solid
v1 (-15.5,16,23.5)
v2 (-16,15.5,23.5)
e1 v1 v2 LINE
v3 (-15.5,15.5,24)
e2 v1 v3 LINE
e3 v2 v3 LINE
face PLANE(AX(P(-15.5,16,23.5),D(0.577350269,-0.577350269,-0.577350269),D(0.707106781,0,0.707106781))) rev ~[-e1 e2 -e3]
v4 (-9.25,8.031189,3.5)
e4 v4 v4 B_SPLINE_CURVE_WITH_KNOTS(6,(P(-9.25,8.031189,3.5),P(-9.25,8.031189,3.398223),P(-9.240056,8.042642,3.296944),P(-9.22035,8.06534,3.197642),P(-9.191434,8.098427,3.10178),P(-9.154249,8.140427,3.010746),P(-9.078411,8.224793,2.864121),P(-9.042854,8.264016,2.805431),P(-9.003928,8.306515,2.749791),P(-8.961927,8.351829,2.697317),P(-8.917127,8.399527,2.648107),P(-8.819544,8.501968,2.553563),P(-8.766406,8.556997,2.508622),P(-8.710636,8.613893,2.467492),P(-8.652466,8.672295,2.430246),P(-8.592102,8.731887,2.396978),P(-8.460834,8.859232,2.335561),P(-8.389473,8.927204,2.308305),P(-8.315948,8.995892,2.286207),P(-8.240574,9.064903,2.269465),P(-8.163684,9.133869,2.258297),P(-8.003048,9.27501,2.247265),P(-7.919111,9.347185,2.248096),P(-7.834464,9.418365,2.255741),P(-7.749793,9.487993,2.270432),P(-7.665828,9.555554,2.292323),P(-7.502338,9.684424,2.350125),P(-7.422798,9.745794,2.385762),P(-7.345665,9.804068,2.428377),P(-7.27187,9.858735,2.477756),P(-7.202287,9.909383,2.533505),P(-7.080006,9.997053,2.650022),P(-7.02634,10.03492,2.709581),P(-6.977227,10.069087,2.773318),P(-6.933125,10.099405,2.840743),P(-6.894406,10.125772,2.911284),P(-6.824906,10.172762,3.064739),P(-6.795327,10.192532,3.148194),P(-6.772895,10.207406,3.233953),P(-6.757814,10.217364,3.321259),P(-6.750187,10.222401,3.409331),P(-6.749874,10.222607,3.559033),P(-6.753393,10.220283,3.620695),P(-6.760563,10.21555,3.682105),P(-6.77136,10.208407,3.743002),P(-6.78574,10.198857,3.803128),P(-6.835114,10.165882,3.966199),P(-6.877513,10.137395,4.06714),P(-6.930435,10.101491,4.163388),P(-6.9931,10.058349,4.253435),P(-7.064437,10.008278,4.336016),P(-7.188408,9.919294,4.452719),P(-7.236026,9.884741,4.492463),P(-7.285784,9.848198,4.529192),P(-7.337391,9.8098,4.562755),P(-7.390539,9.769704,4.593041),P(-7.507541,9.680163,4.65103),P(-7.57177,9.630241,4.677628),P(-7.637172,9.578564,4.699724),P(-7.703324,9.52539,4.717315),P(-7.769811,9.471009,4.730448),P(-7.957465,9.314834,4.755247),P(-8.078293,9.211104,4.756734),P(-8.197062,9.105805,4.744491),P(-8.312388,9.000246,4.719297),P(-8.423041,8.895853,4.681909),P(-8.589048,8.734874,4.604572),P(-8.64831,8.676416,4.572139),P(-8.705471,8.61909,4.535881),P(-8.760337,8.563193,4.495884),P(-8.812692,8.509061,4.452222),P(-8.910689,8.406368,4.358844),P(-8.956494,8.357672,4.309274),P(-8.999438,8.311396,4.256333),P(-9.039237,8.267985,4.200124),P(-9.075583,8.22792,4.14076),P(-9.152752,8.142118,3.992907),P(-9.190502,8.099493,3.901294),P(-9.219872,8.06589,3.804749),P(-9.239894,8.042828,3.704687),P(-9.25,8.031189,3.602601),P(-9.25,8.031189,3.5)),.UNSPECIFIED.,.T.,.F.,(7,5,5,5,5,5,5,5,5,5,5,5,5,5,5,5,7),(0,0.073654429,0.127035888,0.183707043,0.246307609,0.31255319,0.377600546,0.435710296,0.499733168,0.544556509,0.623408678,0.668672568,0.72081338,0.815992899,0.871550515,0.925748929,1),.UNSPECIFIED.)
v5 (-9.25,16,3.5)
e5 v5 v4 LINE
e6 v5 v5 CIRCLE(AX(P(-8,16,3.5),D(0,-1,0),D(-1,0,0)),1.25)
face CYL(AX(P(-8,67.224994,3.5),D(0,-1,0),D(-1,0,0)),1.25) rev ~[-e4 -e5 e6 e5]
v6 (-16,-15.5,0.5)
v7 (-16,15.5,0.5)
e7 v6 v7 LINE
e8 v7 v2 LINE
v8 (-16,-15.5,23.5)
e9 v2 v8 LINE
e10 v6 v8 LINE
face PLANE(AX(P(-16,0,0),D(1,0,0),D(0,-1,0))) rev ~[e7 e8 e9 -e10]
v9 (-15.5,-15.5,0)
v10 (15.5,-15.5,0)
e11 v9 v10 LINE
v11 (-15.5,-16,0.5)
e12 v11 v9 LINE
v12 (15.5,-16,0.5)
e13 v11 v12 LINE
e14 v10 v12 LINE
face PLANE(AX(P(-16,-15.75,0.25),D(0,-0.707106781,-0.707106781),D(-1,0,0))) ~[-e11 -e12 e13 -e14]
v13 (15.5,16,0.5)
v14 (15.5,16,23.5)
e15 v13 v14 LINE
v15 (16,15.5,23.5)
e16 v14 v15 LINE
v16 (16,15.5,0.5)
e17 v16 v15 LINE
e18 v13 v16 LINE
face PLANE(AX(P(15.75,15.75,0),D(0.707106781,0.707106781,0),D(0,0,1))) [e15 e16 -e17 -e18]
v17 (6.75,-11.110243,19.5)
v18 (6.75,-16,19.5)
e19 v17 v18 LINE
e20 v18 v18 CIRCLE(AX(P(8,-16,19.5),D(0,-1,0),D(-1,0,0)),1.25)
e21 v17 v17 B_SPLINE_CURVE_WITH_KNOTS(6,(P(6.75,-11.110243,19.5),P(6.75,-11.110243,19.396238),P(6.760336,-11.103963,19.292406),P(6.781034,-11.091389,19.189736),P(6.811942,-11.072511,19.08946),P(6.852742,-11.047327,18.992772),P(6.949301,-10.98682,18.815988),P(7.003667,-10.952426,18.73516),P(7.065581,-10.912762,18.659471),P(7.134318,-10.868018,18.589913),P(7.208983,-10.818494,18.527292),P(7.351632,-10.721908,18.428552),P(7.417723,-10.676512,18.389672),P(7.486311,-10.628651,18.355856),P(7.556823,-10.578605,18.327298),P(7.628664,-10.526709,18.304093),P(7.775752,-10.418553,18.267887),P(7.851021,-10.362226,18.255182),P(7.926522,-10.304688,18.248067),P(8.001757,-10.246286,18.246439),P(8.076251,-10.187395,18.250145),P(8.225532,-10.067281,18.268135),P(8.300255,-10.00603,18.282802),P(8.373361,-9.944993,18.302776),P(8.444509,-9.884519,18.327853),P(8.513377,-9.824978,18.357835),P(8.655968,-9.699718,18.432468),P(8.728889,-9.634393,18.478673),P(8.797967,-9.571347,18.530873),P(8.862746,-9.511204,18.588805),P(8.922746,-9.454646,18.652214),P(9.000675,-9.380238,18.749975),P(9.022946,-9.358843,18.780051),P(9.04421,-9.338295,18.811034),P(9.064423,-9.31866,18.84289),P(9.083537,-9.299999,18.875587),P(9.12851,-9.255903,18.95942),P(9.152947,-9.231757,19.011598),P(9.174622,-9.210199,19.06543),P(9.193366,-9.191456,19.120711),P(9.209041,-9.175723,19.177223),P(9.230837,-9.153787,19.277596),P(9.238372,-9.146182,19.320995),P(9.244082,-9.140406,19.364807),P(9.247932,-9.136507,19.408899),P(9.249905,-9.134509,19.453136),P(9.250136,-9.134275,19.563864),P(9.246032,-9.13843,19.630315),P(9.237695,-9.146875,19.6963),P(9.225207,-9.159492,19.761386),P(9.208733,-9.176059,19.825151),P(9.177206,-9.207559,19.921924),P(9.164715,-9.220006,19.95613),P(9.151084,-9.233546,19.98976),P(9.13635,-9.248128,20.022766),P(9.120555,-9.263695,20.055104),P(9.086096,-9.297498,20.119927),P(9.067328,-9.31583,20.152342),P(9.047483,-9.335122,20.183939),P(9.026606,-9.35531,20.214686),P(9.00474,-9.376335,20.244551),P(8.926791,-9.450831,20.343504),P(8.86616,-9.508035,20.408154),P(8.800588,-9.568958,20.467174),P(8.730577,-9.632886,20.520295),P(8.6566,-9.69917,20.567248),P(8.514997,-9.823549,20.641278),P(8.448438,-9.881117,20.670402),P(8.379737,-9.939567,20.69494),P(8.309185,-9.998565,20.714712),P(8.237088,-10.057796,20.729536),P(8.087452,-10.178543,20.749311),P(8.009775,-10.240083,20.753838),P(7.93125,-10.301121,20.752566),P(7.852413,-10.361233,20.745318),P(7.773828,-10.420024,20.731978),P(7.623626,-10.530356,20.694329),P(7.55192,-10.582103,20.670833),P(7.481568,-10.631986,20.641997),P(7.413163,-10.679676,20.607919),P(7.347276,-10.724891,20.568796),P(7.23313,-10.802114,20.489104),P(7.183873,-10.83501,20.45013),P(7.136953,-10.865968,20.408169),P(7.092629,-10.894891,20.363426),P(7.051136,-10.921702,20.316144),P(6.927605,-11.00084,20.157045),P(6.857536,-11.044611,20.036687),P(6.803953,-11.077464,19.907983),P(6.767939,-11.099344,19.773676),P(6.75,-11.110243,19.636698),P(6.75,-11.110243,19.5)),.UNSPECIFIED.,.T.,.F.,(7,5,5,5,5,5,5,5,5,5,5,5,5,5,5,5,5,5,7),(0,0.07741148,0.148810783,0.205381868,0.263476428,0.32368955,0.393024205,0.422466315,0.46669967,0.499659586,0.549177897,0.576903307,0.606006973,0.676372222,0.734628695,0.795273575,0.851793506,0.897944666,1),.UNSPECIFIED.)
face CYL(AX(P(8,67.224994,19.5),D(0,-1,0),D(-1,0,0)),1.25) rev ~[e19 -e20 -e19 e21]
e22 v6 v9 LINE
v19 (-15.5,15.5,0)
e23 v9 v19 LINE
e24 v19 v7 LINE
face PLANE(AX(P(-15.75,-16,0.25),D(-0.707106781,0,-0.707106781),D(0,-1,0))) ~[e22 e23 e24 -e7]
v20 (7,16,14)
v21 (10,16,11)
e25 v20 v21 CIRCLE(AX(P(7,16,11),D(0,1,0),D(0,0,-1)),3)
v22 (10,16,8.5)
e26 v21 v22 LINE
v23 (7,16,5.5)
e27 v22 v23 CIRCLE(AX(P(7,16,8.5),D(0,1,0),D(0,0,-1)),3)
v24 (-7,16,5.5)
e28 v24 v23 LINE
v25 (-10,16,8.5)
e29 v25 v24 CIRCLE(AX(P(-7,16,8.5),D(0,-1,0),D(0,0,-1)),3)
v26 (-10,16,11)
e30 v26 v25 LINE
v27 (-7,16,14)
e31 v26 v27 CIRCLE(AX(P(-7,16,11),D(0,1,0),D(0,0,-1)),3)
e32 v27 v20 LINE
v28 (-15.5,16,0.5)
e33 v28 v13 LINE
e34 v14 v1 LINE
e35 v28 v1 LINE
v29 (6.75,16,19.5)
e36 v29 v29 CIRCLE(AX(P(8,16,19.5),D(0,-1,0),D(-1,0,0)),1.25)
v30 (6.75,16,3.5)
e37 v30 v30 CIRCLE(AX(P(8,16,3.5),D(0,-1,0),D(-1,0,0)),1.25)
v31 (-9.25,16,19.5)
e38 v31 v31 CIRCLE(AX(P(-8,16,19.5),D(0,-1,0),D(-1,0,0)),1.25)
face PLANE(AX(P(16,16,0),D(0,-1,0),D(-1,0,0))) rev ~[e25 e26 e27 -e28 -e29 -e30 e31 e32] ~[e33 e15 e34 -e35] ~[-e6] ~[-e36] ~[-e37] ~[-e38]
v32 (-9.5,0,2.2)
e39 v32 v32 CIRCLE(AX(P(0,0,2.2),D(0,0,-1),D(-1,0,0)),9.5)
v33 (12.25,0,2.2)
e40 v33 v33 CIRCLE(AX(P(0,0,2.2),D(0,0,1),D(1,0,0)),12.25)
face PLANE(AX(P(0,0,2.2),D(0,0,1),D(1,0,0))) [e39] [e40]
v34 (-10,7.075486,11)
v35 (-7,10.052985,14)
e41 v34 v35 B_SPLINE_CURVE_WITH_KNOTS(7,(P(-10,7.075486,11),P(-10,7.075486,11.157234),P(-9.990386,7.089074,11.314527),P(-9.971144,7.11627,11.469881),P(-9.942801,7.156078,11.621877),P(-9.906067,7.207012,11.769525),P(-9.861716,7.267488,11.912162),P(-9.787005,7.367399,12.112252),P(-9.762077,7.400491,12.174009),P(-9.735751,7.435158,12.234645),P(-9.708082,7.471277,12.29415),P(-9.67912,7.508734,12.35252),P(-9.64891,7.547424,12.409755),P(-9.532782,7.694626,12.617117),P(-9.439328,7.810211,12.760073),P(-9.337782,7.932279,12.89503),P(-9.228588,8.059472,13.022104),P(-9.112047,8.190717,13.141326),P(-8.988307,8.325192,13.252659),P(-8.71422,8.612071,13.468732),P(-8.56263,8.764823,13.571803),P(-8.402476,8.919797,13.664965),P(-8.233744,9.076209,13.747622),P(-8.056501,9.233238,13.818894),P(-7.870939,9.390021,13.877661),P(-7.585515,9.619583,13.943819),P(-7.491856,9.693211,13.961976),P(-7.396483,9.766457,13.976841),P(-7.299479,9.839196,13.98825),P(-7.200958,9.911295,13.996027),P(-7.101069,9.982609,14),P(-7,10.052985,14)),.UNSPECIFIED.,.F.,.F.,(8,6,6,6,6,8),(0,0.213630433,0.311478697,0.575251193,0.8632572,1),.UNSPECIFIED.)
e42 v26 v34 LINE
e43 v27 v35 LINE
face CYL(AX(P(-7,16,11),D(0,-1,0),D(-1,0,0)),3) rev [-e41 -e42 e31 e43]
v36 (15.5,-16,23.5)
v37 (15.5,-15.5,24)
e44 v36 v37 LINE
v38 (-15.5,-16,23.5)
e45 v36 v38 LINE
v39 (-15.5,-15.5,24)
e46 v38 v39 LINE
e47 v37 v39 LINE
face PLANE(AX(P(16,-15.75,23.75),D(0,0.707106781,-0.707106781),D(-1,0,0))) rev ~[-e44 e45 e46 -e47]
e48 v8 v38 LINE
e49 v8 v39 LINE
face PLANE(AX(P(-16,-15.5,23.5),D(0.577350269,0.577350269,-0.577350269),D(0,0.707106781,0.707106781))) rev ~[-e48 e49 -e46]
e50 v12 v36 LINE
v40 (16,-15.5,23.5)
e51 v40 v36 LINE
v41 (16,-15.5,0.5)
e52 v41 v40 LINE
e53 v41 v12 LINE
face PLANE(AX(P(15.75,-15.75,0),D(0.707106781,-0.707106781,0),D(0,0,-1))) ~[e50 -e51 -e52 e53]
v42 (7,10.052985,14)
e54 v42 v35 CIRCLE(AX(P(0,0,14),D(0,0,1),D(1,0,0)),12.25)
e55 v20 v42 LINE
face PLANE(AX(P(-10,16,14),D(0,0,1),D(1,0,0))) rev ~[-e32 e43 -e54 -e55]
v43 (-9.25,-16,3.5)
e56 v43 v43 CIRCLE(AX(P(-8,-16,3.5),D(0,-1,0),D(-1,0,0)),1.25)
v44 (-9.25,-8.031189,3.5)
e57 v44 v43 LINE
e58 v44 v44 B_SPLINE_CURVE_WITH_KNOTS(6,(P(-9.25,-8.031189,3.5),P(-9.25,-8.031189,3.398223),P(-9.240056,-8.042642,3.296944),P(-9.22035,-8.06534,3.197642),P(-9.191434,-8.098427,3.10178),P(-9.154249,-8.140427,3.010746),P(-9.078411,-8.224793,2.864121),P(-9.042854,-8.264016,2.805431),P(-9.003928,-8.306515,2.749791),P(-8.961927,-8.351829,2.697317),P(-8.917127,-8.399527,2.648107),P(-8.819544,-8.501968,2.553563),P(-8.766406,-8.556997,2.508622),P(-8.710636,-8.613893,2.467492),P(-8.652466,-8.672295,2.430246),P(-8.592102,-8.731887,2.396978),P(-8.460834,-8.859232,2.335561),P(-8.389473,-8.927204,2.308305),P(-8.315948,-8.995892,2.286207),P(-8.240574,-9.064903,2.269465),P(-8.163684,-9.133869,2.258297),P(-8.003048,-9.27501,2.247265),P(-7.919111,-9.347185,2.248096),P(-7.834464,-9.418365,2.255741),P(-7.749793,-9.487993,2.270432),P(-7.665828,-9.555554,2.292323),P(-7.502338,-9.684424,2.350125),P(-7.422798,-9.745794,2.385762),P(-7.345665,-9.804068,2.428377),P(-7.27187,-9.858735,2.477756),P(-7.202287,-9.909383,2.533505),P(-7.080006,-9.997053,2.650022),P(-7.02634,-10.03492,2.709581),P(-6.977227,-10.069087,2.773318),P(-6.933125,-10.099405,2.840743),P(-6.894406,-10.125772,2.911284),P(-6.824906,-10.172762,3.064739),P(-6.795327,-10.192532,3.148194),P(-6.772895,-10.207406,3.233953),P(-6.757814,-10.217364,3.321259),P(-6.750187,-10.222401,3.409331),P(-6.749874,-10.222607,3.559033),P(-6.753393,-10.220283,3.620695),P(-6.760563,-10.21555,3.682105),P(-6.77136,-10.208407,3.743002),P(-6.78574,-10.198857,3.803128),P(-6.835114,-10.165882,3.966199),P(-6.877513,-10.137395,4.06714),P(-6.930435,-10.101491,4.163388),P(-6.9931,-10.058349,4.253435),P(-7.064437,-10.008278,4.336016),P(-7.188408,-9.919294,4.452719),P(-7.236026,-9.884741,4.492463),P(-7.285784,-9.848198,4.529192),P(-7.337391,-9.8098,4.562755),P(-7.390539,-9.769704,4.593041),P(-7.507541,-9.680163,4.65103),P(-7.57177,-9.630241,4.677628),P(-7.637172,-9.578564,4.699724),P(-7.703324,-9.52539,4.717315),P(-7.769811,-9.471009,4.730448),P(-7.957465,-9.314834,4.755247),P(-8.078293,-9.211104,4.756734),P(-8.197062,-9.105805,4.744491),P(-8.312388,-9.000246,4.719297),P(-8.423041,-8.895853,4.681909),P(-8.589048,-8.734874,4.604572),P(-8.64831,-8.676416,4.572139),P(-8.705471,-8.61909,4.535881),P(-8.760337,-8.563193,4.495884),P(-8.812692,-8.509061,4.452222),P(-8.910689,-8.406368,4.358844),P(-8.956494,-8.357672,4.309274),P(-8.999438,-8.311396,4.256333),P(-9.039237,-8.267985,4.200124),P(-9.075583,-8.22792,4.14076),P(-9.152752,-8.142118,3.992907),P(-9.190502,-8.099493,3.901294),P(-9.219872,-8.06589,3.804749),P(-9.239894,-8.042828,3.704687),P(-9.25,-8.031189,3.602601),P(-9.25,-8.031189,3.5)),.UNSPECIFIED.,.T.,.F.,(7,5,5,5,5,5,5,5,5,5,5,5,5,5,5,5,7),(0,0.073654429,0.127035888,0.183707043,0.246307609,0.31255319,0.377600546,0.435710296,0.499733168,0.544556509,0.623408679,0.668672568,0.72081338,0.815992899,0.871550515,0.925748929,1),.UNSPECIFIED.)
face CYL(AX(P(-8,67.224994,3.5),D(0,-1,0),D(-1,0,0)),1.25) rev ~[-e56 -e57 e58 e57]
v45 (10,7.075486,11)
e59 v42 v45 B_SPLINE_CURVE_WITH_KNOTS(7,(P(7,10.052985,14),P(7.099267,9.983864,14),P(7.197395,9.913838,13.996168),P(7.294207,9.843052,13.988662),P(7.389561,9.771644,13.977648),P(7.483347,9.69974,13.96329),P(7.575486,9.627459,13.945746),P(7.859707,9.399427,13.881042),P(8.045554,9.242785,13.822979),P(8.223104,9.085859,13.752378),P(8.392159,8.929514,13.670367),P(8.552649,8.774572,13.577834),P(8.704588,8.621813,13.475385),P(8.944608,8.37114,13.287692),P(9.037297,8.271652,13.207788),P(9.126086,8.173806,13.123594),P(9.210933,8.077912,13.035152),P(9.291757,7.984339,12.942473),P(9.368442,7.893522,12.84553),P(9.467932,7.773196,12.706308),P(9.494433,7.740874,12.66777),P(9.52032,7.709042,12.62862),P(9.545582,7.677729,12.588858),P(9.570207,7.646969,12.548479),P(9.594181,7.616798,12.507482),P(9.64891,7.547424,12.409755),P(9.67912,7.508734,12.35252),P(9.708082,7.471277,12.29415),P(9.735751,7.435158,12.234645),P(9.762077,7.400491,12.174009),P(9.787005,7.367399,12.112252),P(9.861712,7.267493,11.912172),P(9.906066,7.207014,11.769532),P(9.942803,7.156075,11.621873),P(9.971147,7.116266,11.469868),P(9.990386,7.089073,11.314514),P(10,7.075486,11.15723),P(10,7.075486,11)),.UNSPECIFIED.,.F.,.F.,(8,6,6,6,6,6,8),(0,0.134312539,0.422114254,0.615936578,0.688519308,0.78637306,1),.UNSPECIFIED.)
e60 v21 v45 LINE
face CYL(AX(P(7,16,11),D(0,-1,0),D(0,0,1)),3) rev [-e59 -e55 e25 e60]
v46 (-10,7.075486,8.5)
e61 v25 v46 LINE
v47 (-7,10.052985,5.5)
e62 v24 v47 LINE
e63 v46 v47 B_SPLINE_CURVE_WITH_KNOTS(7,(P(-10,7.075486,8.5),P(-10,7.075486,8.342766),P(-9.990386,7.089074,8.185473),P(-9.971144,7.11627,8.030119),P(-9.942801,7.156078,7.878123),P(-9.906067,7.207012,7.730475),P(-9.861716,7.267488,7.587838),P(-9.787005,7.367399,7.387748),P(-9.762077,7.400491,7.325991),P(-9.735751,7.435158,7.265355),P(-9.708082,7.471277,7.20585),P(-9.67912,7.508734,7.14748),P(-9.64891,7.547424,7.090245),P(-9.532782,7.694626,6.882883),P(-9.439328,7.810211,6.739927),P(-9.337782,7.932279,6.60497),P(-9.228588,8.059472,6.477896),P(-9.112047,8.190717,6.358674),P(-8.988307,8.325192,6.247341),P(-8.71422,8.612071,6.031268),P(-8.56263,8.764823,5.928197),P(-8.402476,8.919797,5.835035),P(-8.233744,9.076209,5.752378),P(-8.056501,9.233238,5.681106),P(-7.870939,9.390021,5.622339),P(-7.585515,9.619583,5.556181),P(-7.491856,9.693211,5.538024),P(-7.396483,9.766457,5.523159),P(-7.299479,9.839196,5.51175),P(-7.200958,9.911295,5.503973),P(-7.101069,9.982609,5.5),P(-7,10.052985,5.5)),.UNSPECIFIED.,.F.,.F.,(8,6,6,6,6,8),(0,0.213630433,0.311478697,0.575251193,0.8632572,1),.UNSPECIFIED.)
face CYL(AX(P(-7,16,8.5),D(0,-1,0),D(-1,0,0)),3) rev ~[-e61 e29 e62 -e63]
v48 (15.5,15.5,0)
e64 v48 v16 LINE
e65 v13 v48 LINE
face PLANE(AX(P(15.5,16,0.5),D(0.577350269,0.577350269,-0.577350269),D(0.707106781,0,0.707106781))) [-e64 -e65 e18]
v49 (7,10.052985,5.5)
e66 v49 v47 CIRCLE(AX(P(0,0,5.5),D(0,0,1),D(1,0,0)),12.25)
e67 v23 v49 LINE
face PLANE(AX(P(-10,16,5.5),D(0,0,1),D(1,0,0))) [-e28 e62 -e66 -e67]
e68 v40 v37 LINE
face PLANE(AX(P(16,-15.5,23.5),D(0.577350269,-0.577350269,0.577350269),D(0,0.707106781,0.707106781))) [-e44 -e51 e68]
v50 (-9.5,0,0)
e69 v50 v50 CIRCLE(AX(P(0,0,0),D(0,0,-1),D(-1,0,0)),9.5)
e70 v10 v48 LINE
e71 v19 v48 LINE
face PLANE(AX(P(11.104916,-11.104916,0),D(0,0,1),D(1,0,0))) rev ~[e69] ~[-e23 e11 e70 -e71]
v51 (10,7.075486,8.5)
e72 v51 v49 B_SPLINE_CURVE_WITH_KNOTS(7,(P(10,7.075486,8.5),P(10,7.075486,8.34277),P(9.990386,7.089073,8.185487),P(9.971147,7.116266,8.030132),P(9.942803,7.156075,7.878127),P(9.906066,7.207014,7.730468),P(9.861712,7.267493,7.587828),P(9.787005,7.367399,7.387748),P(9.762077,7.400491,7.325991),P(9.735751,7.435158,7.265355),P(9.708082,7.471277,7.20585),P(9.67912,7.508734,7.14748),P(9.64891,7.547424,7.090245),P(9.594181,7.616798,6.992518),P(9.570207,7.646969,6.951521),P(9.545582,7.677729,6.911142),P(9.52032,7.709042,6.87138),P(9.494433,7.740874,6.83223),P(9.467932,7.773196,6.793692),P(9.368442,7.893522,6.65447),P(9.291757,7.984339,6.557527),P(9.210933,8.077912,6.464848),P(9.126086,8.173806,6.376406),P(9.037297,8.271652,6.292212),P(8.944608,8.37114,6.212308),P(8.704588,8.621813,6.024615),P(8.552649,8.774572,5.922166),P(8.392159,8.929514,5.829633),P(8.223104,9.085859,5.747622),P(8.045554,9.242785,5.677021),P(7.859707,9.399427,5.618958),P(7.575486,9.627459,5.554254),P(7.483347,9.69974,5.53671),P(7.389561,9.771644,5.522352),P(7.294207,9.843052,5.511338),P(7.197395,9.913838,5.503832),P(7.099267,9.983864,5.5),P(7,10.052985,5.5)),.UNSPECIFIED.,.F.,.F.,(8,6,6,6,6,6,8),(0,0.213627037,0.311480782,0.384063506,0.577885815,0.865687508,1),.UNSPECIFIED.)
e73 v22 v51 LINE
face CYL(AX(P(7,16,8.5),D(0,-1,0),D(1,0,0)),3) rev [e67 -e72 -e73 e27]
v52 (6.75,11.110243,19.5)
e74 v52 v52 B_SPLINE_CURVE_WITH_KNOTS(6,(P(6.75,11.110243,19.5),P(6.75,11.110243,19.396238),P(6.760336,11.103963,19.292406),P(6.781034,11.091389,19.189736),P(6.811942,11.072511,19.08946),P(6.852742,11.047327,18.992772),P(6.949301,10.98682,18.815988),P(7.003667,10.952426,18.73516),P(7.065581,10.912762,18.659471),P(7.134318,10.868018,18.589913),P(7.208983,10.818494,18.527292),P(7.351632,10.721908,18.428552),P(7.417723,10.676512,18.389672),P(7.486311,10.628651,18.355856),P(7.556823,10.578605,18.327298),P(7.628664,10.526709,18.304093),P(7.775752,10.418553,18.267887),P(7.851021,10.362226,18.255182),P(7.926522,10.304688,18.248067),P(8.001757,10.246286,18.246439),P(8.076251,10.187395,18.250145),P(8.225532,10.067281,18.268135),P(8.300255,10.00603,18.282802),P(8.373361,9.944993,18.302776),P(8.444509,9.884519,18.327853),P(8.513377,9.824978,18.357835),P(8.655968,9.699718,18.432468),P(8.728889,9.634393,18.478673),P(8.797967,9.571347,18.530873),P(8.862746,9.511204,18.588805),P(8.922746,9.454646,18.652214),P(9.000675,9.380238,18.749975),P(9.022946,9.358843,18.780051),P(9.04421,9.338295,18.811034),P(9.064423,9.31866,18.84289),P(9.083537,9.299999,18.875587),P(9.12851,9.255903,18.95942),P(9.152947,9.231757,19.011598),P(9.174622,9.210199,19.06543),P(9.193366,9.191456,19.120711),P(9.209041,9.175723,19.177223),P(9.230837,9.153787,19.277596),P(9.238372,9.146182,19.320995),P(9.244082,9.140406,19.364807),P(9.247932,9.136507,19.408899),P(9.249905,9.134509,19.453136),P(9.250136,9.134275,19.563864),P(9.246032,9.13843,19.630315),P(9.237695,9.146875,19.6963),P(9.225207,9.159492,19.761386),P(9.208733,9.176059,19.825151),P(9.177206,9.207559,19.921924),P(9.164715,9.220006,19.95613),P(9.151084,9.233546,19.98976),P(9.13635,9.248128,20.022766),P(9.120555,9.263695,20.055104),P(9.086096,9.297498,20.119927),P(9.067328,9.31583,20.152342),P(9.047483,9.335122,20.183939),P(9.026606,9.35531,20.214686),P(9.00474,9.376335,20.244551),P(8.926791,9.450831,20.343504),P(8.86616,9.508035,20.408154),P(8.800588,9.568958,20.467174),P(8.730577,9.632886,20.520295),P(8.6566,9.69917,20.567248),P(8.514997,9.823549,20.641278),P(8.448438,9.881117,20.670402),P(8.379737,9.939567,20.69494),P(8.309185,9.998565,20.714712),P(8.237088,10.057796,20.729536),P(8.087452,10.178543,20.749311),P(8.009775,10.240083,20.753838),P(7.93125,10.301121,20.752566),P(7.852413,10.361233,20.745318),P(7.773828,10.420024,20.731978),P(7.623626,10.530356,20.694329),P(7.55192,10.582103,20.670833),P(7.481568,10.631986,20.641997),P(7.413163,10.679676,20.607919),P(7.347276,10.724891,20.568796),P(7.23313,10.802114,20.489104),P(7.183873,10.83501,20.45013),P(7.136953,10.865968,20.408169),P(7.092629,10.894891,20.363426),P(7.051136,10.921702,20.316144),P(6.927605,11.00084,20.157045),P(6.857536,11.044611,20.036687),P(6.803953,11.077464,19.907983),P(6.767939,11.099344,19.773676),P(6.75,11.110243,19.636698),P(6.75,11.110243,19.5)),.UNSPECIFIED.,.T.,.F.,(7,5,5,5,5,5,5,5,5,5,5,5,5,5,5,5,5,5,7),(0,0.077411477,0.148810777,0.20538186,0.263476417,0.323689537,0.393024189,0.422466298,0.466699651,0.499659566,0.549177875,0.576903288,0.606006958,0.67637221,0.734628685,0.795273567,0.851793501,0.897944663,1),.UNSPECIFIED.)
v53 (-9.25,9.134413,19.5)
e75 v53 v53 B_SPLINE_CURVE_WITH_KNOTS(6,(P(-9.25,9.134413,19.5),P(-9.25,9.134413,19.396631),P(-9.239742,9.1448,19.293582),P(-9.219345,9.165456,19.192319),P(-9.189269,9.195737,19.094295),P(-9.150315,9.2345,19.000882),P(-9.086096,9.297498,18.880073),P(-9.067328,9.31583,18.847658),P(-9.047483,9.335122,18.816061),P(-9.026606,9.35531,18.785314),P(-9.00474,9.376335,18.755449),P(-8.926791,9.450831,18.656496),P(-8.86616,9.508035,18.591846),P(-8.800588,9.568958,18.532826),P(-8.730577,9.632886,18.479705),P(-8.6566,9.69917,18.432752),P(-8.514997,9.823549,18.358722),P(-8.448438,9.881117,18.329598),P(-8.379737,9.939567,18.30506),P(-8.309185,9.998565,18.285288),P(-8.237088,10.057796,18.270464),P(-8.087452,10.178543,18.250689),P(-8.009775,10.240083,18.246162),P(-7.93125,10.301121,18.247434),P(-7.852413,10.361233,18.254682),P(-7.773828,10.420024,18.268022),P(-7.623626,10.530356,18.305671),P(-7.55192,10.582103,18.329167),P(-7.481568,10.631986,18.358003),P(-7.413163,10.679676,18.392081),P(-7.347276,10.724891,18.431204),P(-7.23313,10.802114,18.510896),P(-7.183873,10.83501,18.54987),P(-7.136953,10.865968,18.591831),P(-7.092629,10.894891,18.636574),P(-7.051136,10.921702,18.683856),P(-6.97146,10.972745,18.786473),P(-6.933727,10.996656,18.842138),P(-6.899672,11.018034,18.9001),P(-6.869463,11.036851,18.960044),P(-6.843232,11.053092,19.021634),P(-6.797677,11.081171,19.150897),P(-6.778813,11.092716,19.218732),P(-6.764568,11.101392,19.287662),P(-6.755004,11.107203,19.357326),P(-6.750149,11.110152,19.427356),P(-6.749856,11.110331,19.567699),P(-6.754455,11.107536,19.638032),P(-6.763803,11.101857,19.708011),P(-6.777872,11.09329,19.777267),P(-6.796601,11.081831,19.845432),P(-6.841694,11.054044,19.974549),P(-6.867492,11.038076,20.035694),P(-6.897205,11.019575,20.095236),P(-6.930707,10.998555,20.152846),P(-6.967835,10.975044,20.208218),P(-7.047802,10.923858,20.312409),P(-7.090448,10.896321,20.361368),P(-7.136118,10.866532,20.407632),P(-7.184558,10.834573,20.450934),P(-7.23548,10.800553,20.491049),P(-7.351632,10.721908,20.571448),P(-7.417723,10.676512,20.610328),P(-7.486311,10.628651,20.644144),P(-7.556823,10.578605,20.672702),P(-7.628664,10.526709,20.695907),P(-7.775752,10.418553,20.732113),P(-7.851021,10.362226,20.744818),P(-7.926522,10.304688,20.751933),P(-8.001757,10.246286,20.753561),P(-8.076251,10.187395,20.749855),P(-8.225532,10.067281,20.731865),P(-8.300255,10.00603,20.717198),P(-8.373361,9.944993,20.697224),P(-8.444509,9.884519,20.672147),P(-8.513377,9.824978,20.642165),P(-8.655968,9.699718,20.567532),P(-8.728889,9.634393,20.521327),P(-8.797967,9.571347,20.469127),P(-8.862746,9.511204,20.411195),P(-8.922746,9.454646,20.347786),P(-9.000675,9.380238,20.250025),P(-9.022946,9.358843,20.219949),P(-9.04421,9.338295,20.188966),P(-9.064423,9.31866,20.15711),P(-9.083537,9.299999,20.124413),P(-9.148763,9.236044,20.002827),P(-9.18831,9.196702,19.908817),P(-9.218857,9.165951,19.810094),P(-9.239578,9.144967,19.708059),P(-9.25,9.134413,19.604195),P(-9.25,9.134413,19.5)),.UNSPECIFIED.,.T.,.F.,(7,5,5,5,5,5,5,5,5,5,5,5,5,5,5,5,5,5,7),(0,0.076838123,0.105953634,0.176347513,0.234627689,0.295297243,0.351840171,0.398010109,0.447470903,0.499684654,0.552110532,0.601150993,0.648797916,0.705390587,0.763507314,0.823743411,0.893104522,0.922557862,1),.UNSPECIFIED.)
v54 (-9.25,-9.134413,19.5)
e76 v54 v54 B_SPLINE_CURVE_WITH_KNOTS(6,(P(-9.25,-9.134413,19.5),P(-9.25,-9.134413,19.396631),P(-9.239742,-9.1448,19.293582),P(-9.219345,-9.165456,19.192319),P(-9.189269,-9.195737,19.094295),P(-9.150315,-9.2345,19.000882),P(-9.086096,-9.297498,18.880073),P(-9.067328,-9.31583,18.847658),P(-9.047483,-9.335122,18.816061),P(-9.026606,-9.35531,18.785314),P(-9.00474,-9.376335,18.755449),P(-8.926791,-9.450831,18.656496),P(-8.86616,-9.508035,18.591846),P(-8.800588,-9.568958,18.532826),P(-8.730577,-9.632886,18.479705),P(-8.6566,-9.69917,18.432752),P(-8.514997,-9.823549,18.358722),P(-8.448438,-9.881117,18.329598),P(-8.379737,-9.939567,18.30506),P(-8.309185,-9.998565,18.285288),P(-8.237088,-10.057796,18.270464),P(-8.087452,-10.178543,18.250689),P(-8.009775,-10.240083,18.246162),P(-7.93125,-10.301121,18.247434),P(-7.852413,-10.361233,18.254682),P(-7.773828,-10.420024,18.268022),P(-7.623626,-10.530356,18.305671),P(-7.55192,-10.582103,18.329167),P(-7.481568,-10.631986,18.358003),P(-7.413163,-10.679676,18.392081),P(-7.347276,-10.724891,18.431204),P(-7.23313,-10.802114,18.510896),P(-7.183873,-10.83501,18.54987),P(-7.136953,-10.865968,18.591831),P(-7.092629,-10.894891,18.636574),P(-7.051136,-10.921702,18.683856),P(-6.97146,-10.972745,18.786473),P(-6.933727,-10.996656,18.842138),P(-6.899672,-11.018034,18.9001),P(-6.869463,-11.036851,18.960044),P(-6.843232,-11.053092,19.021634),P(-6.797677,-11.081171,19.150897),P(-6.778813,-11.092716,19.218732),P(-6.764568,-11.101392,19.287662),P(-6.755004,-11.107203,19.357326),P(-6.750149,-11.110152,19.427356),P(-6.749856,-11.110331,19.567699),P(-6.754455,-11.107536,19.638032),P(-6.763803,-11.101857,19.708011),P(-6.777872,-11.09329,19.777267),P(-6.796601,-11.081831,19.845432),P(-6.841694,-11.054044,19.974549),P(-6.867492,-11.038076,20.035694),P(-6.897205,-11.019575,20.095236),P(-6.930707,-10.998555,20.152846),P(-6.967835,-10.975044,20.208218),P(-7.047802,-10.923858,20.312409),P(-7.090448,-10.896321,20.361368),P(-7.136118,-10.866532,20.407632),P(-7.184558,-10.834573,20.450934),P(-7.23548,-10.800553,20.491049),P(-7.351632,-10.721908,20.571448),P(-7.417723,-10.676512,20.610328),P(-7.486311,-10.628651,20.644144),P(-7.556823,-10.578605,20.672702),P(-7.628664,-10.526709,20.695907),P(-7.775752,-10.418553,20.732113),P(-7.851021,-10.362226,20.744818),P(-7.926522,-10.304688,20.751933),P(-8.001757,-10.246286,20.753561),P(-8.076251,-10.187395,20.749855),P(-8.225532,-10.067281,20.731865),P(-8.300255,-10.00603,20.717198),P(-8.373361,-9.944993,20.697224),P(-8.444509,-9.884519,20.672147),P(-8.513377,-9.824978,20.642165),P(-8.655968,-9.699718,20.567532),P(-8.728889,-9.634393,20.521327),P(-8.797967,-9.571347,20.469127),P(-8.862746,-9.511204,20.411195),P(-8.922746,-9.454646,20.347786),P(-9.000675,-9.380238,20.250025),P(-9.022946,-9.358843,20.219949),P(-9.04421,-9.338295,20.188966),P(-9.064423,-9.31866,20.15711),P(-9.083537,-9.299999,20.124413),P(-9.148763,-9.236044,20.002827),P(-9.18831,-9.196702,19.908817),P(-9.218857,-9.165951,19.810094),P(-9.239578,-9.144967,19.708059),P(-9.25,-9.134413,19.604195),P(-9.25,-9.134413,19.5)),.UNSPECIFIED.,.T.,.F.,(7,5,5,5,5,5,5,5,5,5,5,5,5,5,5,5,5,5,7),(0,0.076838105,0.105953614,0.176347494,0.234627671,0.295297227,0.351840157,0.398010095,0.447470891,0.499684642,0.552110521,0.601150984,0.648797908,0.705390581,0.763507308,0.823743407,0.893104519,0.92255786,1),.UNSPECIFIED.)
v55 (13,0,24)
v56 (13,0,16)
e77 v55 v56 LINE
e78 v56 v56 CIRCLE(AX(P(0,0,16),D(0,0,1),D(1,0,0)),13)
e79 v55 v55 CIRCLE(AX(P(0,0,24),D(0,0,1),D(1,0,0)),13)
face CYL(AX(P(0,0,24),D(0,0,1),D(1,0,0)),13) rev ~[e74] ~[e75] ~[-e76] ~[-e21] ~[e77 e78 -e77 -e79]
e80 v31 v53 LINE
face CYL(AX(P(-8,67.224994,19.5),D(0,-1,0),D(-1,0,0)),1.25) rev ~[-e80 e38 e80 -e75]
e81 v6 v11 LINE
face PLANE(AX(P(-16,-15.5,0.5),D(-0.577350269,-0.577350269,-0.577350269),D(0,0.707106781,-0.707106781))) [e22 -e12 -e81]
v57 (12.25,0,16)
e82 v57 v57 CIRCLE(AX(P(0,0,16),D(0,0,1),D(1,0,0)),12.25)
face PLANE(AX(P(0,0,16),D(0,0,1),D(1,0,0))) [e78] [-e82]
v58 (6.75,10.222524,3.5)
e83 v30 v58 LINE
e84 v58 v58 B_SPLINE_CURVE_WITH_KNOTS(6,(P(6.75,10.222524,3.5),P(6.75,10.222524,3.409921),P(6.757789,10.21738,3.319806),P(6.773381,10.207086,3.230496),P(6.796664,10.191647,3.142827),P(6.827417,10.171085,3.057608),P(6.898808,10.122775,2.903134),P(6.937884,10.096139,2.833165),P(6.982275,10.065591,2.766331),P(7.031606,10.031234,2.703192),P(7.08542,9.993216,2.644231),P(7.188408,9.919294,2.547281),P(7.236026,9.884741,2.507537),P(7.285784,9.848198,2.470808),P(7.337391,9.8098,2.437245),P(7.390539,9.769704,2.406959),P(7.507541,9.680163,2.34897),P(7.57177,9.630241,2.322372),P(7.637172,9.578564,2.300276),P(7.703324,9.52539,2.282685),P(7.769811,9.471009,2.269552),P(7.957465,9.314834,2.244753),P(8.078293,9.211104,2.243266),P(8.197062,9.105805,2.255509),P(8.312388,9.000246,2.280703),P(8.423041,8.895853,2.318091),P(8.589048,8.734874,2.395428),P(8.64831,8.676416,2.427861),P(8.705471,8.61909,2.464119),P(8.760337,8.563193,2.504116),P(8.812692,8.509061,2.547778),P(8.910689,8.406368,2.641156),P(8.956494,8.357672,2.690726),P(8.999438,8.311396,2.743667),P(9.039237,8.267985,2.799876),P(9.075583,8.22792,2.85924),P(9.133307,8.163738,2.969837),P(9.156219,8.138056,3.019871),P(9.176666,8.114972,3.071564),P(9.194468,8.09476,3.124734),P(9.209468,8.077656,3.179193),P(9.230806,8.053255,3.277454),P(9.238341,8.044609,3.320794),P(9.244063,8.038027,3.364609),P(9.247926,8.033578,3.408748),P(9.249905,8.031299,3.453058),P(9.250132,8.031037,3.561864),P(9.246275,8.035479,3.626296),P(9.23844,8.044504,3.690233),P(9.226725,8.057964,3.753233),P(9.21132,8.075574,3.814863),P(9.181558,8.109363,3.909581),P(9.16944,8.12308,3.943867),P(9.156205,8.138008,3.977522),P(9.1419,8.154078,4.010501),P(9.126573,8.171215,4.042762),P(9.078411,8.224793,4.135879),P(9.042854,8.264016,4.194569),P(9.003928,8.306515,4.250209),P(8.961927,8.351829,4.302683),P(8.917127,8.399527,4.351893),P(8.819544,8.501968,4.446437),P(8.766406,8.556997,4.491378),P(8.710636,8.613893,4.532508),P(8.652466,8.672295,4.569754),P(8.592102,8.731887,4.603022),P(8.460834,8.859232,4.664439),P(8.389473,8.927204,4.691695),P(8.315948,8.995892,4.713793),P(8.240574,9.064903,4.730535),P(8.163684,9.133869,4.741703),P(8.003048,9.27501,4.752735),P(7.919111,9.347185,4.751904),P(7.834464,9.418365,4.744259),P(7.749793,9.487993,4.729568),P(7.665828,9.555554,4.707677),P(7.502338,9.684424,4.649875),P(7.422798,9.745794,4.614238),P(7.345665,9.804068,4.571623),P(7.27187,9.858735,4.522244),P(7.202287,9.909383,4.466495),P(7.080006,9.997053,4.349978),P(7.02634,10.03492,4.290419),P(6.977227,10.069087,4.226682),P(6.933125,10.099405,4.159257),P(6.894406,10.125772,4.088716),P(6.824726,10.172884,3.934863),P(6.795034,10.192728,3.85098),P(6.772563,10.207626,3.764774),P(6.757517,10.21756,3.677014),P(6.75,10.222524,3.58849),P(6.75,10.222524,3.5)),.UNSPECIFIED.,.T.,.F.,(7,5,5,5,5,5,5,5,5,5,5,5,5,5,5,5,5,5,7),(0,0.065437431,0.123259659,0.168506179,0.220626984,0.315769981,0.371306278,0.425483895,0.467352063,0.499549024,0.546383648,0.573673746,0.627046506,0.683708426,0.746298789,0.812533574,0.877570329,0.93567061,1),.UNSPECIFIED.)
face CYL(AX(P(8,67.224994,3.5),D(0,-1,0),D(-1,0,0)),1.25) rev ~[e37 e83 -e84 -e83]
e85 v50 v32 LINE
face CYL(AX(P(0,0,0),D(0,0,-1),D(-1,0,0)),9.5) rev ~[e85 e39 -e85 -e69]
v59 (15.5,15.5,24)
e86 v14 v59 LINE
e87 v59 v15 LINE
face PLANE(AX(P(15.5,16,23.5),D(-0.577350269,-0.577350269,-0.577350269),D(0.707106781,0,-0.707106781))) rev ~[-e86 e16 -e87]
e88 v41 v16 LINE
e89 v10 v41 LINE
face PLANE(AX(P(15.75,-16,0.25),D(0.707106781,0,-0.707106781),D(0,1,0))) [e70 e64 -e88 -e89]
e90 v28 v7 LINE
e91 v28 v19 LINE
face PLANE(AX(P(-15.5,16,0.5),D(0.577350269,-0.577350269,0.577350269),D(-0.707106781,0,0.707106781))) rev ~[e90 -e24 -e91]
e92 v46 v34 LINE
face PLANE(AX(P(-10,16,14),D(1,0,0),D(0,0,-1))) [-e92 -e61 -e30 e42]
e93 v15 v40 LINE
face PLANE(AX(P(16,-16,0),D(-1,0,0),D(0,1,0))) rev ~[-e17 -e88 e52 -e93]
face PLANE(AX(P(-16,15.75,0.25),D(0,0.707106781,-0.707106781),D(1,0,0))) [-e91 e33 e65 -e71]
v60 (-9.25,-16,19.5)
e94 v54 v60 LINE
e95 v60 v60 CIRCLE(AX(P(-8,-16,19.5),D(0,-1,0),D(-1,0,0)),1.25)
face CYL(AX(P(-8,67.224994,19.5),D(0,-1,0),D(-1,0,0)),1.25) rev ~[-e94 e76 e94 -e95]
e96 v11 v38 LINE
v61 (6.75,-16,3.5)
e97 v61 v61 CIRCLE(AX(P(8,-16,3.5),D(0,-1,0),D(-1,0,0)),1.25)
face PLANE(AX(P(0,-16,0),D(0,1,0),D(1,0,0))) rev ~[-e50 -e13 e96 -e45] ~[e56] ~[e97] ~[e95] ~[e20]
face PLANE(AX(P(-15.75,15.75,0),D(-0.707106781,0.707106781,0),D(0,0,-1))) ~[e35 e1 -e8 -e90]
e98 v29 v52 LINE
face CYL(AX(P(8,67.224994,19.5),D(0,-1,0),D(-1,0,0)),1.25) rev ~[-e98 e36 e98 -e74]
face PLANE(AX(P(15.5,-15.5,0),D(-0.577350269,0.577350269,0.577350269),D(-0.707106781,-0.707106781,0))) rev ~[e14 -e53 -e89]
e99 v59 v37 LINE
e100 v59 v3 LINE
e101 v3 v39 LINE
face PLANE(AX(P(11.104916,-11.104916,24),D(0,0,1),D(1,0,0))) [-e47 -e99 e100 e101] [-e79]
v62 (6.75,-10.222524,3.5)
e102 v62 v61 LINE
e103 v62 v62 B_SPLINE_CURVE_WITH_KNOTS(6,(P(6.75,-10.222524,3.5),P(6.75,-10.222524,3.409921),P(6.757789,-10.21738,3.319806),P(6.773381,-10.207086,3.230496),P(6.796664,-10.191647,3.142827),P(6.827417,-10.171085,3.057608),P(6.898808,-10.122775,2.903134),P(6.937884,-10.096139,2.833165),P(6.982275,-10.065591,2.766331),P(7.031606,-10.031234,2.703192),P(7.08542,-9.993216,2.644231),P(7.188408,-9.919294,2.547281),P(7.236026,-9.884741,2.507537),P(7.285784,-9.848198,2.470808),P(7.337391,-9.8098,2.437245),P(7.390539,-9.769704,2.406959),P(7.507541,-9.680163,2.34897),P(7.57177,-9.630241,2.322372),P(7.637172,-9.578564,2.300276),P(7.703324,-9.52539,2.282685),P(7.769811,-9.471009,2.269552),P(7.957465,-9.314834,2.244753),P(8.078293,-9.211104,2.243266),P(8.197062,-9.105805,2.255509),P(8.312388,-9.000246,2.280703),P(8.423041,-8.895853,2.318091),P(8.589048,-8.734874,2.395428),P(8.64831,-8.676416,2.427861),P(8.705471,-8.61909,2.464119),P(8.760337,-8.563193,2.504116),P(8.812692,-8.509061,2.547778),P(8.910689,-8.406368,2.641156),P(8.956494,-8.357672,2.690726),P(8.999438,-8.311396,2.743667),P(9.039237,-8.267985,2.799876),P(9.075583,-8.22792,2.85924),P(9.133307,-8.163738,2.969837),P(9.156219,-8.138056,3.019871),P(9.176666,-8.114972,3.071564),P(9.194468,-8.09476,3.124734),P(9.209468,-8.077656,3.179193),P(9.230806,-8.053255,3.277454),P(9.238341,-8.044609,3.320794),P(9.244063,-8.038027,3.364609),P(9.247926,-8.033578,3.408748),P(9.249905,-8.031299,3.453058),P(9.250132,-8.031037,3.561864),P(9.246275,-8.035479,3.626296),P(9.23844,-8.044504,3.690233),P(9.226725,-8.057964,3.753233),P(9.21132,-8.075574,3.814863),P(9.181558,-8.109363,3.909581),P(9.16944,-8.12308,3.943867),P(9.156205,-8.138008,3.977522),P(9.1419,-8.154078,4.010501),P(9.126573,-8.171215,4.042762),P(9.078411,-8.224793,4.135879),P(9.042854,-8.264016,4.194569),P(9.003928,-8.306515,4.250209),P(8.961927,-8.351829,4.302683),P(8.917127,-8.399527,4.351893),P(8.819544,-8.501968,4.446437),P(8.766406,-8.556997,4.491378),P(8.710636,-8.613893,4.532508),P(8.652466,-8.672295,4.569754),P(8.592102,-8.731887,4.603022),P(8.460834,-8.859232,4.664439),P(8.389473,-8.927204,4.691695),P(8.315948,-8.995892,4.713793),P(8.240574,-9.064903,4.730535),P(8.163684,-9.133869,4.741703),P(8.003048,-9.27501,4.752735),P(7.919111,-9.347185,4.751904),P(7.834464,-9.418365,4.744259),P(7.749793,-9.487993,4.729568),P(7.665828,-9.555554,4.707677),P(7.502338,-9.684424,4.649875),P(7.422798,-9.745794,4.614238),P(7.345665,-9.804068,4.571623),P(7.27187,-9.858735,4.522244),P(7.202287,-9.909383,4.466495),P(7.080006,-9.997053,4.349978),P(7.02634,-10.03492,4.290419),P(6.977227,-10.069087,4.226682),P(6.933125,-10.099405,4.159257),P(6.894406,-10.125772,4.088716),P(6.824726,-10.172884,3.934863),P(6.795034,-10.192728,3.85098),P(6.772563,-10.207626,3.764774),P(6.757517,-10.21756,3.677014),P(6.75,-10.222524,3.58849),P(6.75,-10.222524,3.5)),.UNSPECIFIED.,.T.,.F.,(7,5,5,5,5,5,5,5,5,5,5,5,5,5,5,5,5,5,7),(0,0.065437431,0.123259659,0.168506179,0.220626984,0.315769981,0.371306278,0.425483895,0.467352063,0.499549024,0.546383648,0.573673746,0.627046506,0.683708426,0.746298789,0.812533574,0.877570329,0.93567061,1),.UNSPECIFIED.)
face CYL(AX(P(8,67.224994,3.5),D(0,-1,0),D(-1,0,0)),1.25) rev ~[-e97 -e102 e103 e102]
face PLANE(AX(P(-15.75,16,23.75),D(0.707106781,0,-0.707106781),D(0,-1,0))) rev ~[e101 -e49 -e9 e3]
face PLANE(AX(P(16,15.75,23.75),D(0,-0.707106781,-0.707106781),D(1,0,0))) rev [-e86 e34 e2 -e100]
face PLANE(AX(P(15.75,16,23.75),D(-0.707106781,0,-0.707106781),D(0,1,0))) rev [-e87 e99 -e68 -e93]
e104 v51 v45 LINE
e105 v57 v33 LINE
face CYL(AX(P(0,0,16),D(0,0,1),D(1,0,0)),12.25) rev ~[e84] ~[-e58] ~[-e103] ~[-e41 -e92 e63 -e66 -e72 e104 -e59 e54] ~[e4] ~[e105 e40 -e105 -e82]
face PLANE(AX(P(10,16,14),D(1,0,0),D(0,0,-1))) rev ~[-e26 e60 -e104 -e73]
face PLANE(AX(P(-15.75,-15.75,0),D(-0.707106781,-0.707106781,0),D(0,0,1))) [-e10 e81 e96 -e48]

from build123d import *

# Parameters (mm, degrees)
SKETCH_1_R               = 16
SKETCH_1_R_2             = 6.65
EXTRUDE_1_DEPTH          = 24
SKETCH_3_R               = 1.5
CUT_EXTRUDE_2_DEPTH      = 33.984845005
PATTERN_CIRCULAR_1_COUNT = 6
EXTRUDE_START            = -24
EXTRUDE_2_DEPTH          = 24
SKETCH_7_R               = 13
CUT_EXTRUDE_3_DEPTH      = 21.8
EXTRUDE_START_2          = 13.8
SKETCH_15_R              = 13
SKETCH_15_R_2            = 12.25
EXTRUDE_4_DEPTH          = 13.8
SKETCH_11_W              = 20
SKETCH_11_H              = 8.5
CUT_EXTRUDE_4_DEPTH      = 10
FILLET_1_R               = 3
SKETCH_12_R              = 1
CUT_EXTRUDE_5_DEPTH      = 44.081318457
HOLE_WIZARD_M3_1_D       = 2.5
CHAMFER_1_SIZE           = 0.5
SKETCH_19_R              = 11
EXTRUDE_8_DEPTH          = 24
SKETCH_20_R              = 11
CUT_EXTRUDE_8_DEPTH      = 47
SKETCH_21_R              = 11
CUT_EXTRUDE_9_DEPTH      = 60
SKETCH_22_R              = 9.5
CUT_EXTRUDE_10_DEPTH     = 60


with BuildPart() as part:
    # 草图1 → 凸台-拉伸1 (new body)
    with BuildSketch(Plane.XY):
        Circle(SKETCH_1_R)
        Circle(SKETCH_1_R_2, mode=Mode.SUBTRACT)
    extrude(amount=EXTRUDE_1_DEPTH)

    # 草图3 → 切除-拉伸2 (cut, through all)
    with BuildSketch(Plane(origin=(0, 0, 0), x_dir=(-1, 0, 0), z_dir=(0, 0, -1))):
        with Locations((0, 9.5)):
            Circle(SKETCH_3_R)
    cut_extrude_2 = extrude(amount=-CUT_EXTRUDE_2_DEPTH, mode=Mode.SUBTRACT)

    # 阵列(圆周)1: 切除-拉伸2 ×6 about axis
    pattern_circular_1_axis = Axis((0, 0, 0), (0, 0, 1))
    for i in range(1, PATTERN_CIRCULAR_1_COUNT):
        add(cut_extrude_2.rotate(pattern_circular_1_axis, i * 360 / PATTERN_CIRCULAR_1_COUNT), mode=Mode.SUBTRACT)

    # 草图4 → 凸台-拉伸2 (add)
    with BuildSketch(Plane.XY.offset(24).offset(EXTRUDE_START)):
        with BuildLine():
            ThreePointArc((16, 0), (11.313708518, -11.31370848), (5.5e-08, -16))
            Line((5.5e-08, -16), (16, -16))
            Line((16, -16), (16, 0))
        make_face()
        with BuildLine():
            ThreePointArc((5.5e-08, -16), (-11.31370848, -11.313708518), (-16, 0))
            Line((-16, 0), (-16, -16))
            Line((-16, -16), (5.5e-08, -16))
        make_face()
        with BuildLine():
            Line((-16, 16), (-16, 0))
            ThreePointArc((-16, 0), (-11.313708518, 11.31370848), (-5.5e-08, 16))
            Line((-5.5e-08, 16), (-16, 16))
        make_face()
        with BuildLine():
            Line((16, 16), (-5.5e-08, 16))
            ThreePointArc((-5.5e-08, 16), (11.31370848, 11.313708518), (16, 0))
            Line((16, 0), (16, 16))
        make_face()
    extrude(amount=EXTRUDE_2_DEPTH)

    # 草图7 → 切除-拉伸3 (cut)
    with BuildSketch(Plane.XY.offset(24)):
        Circle(SKETCH_7_R)
    extrude(amount=-CUT_EXTRUDE_3_DEPTH, mode=Mode.SUBTRACT)

    # 草图15 → 凸台-拉伸4 (add)
    with BuildSketch(Plane.XY.offset(2.2).offset(EXTRUDE_START_2)):
        Circle(SKETCH_15_R)
        Circle(SKETCH_15_R_2, mode=Mode.SUBTRACT)
    extrude(amount=-EXTRUDE_4_DEPTH)

    # 草图11 → 切除-拉伸4 (cut)
    with BuildSketch(Plane(origin=(0, 16, 0), x_dir=(1, 0, 0), z_dir=(0, 1, 0))):
        with Locations((0, -9.75)):
            Rectangle(SKETCH_11_W, SKETCH_11_H)
    extrude(amount=-CUT_EXTRUDE_4_DEPTH, mode=Mode.SUBTRACT)

    # 圆角1
    fillet_1_edges = [part.edges().sort_by_distance(p)[0] for p in [
        (10, 11.537742925, 5.5),
        (10, 11.537742925, 14),
        (-10, 11.537742925, 14),
        (-10, 11.537742925, 5.5),
    ]]
    fillet(fillet_1_edges, radius=FILLET_1_R)

    # 草图12 → 切除-拉伸5 (cut, through all)
    with BuildSketch(Plane(origin=(0, 16, 0), x_dir=(1, 0, 0), z_dir=(0, 1, 0))):
        with Locations(Location((8, -3.5, 0), (0, 0, 180))):
            Circle(SKETCH_12_R)
        with Locations(Location((8, -19.5, 0), (0, 0, 180))):
            Circle(SKETCH_12_R)
        with Locations(Location((-8, -3.5, 0), (0, 0, 180))):
            Circle(SKETCH_12_R)
        with Locations(Location((-8, -19.5, 0), (0, 0, 180))):
            Circle(SKETCH_12_R)
    extrude(amount=-CUT_EXTRUDE_5_DEPTH, mode=Mode.SUBTRACT)

    # M3 螺纹孔1 (through all)
    with Locations(Plane(origin=(0, 16, 0), x_dir=(1, 0, 0), z_dir=(0, 1, 0))):
        with Locations((8, -3.5), (-8, -3.5), (-8, -19.5), (8, -19.5)):
            Hole(HOLE_WIZARD_M3_1_D / 2)

    # 倒角1
    chamfer_1_edges = [part.edges().sort_by_distance(p)[0] for p in [
        (0, -16, 24),
        (16, -16, 12),
        (16, 0, 0),
        (16, 0, 24),
        (0, -16, 0),
        (-16, -16, 12),
        (-16, 0, 24),
        (-16, 0, 0),
        (0, 16, 0),
        (-16, 16, 12),
        (0, 16, 24),
        (16, 16, 12),
    ]]
    chamfer(chamfer_1_edges, length=CHAMFER_1_SIZE)

    # 草图19 → 凸台-拉伸8 (add)
    with BuildSketch(Plane(origin=(0, 0, 0), x_dir=(-1, 0, 0), z_dir=(0, 0, -1))):
        Circle(SKETCH_19_R)
    extrude(amount=-EXTRUDE_8_DEPTH)

    # 草图20 → 切除-拉伸8 (cut)
    with BuildSketch(Plane.XY.offset(5.5)):
        Circle(SKETCH_20_R)
    extrude(amount=CUT_EXTRUDE_8_DEPTH, mode=Mode.SUBTRACT)

    # 草图21 → 切除-拉伸9 (cut)
    with BuildSketch(Plane.XY.offset(2.2)):
        Circle(SKETCH_21_R)
    extrude(amount=CUT_EXTRUDE_9_DEPTH, mode=Mode.SUBTRACT)

    # 草图22 → 切除-拉伸10 (cut)
    with BuildSketch(Plane(origin=(0, 0, 0), x_dir=(-1, 0, 0), z_dir=(0, 0, -1))):
        Circle(SKETCH_22_R)
    extrude(amount=-CUT_EXTRUDE_10_DEPTH, mode=Mode.SUBTRACT)


solid = part.part
